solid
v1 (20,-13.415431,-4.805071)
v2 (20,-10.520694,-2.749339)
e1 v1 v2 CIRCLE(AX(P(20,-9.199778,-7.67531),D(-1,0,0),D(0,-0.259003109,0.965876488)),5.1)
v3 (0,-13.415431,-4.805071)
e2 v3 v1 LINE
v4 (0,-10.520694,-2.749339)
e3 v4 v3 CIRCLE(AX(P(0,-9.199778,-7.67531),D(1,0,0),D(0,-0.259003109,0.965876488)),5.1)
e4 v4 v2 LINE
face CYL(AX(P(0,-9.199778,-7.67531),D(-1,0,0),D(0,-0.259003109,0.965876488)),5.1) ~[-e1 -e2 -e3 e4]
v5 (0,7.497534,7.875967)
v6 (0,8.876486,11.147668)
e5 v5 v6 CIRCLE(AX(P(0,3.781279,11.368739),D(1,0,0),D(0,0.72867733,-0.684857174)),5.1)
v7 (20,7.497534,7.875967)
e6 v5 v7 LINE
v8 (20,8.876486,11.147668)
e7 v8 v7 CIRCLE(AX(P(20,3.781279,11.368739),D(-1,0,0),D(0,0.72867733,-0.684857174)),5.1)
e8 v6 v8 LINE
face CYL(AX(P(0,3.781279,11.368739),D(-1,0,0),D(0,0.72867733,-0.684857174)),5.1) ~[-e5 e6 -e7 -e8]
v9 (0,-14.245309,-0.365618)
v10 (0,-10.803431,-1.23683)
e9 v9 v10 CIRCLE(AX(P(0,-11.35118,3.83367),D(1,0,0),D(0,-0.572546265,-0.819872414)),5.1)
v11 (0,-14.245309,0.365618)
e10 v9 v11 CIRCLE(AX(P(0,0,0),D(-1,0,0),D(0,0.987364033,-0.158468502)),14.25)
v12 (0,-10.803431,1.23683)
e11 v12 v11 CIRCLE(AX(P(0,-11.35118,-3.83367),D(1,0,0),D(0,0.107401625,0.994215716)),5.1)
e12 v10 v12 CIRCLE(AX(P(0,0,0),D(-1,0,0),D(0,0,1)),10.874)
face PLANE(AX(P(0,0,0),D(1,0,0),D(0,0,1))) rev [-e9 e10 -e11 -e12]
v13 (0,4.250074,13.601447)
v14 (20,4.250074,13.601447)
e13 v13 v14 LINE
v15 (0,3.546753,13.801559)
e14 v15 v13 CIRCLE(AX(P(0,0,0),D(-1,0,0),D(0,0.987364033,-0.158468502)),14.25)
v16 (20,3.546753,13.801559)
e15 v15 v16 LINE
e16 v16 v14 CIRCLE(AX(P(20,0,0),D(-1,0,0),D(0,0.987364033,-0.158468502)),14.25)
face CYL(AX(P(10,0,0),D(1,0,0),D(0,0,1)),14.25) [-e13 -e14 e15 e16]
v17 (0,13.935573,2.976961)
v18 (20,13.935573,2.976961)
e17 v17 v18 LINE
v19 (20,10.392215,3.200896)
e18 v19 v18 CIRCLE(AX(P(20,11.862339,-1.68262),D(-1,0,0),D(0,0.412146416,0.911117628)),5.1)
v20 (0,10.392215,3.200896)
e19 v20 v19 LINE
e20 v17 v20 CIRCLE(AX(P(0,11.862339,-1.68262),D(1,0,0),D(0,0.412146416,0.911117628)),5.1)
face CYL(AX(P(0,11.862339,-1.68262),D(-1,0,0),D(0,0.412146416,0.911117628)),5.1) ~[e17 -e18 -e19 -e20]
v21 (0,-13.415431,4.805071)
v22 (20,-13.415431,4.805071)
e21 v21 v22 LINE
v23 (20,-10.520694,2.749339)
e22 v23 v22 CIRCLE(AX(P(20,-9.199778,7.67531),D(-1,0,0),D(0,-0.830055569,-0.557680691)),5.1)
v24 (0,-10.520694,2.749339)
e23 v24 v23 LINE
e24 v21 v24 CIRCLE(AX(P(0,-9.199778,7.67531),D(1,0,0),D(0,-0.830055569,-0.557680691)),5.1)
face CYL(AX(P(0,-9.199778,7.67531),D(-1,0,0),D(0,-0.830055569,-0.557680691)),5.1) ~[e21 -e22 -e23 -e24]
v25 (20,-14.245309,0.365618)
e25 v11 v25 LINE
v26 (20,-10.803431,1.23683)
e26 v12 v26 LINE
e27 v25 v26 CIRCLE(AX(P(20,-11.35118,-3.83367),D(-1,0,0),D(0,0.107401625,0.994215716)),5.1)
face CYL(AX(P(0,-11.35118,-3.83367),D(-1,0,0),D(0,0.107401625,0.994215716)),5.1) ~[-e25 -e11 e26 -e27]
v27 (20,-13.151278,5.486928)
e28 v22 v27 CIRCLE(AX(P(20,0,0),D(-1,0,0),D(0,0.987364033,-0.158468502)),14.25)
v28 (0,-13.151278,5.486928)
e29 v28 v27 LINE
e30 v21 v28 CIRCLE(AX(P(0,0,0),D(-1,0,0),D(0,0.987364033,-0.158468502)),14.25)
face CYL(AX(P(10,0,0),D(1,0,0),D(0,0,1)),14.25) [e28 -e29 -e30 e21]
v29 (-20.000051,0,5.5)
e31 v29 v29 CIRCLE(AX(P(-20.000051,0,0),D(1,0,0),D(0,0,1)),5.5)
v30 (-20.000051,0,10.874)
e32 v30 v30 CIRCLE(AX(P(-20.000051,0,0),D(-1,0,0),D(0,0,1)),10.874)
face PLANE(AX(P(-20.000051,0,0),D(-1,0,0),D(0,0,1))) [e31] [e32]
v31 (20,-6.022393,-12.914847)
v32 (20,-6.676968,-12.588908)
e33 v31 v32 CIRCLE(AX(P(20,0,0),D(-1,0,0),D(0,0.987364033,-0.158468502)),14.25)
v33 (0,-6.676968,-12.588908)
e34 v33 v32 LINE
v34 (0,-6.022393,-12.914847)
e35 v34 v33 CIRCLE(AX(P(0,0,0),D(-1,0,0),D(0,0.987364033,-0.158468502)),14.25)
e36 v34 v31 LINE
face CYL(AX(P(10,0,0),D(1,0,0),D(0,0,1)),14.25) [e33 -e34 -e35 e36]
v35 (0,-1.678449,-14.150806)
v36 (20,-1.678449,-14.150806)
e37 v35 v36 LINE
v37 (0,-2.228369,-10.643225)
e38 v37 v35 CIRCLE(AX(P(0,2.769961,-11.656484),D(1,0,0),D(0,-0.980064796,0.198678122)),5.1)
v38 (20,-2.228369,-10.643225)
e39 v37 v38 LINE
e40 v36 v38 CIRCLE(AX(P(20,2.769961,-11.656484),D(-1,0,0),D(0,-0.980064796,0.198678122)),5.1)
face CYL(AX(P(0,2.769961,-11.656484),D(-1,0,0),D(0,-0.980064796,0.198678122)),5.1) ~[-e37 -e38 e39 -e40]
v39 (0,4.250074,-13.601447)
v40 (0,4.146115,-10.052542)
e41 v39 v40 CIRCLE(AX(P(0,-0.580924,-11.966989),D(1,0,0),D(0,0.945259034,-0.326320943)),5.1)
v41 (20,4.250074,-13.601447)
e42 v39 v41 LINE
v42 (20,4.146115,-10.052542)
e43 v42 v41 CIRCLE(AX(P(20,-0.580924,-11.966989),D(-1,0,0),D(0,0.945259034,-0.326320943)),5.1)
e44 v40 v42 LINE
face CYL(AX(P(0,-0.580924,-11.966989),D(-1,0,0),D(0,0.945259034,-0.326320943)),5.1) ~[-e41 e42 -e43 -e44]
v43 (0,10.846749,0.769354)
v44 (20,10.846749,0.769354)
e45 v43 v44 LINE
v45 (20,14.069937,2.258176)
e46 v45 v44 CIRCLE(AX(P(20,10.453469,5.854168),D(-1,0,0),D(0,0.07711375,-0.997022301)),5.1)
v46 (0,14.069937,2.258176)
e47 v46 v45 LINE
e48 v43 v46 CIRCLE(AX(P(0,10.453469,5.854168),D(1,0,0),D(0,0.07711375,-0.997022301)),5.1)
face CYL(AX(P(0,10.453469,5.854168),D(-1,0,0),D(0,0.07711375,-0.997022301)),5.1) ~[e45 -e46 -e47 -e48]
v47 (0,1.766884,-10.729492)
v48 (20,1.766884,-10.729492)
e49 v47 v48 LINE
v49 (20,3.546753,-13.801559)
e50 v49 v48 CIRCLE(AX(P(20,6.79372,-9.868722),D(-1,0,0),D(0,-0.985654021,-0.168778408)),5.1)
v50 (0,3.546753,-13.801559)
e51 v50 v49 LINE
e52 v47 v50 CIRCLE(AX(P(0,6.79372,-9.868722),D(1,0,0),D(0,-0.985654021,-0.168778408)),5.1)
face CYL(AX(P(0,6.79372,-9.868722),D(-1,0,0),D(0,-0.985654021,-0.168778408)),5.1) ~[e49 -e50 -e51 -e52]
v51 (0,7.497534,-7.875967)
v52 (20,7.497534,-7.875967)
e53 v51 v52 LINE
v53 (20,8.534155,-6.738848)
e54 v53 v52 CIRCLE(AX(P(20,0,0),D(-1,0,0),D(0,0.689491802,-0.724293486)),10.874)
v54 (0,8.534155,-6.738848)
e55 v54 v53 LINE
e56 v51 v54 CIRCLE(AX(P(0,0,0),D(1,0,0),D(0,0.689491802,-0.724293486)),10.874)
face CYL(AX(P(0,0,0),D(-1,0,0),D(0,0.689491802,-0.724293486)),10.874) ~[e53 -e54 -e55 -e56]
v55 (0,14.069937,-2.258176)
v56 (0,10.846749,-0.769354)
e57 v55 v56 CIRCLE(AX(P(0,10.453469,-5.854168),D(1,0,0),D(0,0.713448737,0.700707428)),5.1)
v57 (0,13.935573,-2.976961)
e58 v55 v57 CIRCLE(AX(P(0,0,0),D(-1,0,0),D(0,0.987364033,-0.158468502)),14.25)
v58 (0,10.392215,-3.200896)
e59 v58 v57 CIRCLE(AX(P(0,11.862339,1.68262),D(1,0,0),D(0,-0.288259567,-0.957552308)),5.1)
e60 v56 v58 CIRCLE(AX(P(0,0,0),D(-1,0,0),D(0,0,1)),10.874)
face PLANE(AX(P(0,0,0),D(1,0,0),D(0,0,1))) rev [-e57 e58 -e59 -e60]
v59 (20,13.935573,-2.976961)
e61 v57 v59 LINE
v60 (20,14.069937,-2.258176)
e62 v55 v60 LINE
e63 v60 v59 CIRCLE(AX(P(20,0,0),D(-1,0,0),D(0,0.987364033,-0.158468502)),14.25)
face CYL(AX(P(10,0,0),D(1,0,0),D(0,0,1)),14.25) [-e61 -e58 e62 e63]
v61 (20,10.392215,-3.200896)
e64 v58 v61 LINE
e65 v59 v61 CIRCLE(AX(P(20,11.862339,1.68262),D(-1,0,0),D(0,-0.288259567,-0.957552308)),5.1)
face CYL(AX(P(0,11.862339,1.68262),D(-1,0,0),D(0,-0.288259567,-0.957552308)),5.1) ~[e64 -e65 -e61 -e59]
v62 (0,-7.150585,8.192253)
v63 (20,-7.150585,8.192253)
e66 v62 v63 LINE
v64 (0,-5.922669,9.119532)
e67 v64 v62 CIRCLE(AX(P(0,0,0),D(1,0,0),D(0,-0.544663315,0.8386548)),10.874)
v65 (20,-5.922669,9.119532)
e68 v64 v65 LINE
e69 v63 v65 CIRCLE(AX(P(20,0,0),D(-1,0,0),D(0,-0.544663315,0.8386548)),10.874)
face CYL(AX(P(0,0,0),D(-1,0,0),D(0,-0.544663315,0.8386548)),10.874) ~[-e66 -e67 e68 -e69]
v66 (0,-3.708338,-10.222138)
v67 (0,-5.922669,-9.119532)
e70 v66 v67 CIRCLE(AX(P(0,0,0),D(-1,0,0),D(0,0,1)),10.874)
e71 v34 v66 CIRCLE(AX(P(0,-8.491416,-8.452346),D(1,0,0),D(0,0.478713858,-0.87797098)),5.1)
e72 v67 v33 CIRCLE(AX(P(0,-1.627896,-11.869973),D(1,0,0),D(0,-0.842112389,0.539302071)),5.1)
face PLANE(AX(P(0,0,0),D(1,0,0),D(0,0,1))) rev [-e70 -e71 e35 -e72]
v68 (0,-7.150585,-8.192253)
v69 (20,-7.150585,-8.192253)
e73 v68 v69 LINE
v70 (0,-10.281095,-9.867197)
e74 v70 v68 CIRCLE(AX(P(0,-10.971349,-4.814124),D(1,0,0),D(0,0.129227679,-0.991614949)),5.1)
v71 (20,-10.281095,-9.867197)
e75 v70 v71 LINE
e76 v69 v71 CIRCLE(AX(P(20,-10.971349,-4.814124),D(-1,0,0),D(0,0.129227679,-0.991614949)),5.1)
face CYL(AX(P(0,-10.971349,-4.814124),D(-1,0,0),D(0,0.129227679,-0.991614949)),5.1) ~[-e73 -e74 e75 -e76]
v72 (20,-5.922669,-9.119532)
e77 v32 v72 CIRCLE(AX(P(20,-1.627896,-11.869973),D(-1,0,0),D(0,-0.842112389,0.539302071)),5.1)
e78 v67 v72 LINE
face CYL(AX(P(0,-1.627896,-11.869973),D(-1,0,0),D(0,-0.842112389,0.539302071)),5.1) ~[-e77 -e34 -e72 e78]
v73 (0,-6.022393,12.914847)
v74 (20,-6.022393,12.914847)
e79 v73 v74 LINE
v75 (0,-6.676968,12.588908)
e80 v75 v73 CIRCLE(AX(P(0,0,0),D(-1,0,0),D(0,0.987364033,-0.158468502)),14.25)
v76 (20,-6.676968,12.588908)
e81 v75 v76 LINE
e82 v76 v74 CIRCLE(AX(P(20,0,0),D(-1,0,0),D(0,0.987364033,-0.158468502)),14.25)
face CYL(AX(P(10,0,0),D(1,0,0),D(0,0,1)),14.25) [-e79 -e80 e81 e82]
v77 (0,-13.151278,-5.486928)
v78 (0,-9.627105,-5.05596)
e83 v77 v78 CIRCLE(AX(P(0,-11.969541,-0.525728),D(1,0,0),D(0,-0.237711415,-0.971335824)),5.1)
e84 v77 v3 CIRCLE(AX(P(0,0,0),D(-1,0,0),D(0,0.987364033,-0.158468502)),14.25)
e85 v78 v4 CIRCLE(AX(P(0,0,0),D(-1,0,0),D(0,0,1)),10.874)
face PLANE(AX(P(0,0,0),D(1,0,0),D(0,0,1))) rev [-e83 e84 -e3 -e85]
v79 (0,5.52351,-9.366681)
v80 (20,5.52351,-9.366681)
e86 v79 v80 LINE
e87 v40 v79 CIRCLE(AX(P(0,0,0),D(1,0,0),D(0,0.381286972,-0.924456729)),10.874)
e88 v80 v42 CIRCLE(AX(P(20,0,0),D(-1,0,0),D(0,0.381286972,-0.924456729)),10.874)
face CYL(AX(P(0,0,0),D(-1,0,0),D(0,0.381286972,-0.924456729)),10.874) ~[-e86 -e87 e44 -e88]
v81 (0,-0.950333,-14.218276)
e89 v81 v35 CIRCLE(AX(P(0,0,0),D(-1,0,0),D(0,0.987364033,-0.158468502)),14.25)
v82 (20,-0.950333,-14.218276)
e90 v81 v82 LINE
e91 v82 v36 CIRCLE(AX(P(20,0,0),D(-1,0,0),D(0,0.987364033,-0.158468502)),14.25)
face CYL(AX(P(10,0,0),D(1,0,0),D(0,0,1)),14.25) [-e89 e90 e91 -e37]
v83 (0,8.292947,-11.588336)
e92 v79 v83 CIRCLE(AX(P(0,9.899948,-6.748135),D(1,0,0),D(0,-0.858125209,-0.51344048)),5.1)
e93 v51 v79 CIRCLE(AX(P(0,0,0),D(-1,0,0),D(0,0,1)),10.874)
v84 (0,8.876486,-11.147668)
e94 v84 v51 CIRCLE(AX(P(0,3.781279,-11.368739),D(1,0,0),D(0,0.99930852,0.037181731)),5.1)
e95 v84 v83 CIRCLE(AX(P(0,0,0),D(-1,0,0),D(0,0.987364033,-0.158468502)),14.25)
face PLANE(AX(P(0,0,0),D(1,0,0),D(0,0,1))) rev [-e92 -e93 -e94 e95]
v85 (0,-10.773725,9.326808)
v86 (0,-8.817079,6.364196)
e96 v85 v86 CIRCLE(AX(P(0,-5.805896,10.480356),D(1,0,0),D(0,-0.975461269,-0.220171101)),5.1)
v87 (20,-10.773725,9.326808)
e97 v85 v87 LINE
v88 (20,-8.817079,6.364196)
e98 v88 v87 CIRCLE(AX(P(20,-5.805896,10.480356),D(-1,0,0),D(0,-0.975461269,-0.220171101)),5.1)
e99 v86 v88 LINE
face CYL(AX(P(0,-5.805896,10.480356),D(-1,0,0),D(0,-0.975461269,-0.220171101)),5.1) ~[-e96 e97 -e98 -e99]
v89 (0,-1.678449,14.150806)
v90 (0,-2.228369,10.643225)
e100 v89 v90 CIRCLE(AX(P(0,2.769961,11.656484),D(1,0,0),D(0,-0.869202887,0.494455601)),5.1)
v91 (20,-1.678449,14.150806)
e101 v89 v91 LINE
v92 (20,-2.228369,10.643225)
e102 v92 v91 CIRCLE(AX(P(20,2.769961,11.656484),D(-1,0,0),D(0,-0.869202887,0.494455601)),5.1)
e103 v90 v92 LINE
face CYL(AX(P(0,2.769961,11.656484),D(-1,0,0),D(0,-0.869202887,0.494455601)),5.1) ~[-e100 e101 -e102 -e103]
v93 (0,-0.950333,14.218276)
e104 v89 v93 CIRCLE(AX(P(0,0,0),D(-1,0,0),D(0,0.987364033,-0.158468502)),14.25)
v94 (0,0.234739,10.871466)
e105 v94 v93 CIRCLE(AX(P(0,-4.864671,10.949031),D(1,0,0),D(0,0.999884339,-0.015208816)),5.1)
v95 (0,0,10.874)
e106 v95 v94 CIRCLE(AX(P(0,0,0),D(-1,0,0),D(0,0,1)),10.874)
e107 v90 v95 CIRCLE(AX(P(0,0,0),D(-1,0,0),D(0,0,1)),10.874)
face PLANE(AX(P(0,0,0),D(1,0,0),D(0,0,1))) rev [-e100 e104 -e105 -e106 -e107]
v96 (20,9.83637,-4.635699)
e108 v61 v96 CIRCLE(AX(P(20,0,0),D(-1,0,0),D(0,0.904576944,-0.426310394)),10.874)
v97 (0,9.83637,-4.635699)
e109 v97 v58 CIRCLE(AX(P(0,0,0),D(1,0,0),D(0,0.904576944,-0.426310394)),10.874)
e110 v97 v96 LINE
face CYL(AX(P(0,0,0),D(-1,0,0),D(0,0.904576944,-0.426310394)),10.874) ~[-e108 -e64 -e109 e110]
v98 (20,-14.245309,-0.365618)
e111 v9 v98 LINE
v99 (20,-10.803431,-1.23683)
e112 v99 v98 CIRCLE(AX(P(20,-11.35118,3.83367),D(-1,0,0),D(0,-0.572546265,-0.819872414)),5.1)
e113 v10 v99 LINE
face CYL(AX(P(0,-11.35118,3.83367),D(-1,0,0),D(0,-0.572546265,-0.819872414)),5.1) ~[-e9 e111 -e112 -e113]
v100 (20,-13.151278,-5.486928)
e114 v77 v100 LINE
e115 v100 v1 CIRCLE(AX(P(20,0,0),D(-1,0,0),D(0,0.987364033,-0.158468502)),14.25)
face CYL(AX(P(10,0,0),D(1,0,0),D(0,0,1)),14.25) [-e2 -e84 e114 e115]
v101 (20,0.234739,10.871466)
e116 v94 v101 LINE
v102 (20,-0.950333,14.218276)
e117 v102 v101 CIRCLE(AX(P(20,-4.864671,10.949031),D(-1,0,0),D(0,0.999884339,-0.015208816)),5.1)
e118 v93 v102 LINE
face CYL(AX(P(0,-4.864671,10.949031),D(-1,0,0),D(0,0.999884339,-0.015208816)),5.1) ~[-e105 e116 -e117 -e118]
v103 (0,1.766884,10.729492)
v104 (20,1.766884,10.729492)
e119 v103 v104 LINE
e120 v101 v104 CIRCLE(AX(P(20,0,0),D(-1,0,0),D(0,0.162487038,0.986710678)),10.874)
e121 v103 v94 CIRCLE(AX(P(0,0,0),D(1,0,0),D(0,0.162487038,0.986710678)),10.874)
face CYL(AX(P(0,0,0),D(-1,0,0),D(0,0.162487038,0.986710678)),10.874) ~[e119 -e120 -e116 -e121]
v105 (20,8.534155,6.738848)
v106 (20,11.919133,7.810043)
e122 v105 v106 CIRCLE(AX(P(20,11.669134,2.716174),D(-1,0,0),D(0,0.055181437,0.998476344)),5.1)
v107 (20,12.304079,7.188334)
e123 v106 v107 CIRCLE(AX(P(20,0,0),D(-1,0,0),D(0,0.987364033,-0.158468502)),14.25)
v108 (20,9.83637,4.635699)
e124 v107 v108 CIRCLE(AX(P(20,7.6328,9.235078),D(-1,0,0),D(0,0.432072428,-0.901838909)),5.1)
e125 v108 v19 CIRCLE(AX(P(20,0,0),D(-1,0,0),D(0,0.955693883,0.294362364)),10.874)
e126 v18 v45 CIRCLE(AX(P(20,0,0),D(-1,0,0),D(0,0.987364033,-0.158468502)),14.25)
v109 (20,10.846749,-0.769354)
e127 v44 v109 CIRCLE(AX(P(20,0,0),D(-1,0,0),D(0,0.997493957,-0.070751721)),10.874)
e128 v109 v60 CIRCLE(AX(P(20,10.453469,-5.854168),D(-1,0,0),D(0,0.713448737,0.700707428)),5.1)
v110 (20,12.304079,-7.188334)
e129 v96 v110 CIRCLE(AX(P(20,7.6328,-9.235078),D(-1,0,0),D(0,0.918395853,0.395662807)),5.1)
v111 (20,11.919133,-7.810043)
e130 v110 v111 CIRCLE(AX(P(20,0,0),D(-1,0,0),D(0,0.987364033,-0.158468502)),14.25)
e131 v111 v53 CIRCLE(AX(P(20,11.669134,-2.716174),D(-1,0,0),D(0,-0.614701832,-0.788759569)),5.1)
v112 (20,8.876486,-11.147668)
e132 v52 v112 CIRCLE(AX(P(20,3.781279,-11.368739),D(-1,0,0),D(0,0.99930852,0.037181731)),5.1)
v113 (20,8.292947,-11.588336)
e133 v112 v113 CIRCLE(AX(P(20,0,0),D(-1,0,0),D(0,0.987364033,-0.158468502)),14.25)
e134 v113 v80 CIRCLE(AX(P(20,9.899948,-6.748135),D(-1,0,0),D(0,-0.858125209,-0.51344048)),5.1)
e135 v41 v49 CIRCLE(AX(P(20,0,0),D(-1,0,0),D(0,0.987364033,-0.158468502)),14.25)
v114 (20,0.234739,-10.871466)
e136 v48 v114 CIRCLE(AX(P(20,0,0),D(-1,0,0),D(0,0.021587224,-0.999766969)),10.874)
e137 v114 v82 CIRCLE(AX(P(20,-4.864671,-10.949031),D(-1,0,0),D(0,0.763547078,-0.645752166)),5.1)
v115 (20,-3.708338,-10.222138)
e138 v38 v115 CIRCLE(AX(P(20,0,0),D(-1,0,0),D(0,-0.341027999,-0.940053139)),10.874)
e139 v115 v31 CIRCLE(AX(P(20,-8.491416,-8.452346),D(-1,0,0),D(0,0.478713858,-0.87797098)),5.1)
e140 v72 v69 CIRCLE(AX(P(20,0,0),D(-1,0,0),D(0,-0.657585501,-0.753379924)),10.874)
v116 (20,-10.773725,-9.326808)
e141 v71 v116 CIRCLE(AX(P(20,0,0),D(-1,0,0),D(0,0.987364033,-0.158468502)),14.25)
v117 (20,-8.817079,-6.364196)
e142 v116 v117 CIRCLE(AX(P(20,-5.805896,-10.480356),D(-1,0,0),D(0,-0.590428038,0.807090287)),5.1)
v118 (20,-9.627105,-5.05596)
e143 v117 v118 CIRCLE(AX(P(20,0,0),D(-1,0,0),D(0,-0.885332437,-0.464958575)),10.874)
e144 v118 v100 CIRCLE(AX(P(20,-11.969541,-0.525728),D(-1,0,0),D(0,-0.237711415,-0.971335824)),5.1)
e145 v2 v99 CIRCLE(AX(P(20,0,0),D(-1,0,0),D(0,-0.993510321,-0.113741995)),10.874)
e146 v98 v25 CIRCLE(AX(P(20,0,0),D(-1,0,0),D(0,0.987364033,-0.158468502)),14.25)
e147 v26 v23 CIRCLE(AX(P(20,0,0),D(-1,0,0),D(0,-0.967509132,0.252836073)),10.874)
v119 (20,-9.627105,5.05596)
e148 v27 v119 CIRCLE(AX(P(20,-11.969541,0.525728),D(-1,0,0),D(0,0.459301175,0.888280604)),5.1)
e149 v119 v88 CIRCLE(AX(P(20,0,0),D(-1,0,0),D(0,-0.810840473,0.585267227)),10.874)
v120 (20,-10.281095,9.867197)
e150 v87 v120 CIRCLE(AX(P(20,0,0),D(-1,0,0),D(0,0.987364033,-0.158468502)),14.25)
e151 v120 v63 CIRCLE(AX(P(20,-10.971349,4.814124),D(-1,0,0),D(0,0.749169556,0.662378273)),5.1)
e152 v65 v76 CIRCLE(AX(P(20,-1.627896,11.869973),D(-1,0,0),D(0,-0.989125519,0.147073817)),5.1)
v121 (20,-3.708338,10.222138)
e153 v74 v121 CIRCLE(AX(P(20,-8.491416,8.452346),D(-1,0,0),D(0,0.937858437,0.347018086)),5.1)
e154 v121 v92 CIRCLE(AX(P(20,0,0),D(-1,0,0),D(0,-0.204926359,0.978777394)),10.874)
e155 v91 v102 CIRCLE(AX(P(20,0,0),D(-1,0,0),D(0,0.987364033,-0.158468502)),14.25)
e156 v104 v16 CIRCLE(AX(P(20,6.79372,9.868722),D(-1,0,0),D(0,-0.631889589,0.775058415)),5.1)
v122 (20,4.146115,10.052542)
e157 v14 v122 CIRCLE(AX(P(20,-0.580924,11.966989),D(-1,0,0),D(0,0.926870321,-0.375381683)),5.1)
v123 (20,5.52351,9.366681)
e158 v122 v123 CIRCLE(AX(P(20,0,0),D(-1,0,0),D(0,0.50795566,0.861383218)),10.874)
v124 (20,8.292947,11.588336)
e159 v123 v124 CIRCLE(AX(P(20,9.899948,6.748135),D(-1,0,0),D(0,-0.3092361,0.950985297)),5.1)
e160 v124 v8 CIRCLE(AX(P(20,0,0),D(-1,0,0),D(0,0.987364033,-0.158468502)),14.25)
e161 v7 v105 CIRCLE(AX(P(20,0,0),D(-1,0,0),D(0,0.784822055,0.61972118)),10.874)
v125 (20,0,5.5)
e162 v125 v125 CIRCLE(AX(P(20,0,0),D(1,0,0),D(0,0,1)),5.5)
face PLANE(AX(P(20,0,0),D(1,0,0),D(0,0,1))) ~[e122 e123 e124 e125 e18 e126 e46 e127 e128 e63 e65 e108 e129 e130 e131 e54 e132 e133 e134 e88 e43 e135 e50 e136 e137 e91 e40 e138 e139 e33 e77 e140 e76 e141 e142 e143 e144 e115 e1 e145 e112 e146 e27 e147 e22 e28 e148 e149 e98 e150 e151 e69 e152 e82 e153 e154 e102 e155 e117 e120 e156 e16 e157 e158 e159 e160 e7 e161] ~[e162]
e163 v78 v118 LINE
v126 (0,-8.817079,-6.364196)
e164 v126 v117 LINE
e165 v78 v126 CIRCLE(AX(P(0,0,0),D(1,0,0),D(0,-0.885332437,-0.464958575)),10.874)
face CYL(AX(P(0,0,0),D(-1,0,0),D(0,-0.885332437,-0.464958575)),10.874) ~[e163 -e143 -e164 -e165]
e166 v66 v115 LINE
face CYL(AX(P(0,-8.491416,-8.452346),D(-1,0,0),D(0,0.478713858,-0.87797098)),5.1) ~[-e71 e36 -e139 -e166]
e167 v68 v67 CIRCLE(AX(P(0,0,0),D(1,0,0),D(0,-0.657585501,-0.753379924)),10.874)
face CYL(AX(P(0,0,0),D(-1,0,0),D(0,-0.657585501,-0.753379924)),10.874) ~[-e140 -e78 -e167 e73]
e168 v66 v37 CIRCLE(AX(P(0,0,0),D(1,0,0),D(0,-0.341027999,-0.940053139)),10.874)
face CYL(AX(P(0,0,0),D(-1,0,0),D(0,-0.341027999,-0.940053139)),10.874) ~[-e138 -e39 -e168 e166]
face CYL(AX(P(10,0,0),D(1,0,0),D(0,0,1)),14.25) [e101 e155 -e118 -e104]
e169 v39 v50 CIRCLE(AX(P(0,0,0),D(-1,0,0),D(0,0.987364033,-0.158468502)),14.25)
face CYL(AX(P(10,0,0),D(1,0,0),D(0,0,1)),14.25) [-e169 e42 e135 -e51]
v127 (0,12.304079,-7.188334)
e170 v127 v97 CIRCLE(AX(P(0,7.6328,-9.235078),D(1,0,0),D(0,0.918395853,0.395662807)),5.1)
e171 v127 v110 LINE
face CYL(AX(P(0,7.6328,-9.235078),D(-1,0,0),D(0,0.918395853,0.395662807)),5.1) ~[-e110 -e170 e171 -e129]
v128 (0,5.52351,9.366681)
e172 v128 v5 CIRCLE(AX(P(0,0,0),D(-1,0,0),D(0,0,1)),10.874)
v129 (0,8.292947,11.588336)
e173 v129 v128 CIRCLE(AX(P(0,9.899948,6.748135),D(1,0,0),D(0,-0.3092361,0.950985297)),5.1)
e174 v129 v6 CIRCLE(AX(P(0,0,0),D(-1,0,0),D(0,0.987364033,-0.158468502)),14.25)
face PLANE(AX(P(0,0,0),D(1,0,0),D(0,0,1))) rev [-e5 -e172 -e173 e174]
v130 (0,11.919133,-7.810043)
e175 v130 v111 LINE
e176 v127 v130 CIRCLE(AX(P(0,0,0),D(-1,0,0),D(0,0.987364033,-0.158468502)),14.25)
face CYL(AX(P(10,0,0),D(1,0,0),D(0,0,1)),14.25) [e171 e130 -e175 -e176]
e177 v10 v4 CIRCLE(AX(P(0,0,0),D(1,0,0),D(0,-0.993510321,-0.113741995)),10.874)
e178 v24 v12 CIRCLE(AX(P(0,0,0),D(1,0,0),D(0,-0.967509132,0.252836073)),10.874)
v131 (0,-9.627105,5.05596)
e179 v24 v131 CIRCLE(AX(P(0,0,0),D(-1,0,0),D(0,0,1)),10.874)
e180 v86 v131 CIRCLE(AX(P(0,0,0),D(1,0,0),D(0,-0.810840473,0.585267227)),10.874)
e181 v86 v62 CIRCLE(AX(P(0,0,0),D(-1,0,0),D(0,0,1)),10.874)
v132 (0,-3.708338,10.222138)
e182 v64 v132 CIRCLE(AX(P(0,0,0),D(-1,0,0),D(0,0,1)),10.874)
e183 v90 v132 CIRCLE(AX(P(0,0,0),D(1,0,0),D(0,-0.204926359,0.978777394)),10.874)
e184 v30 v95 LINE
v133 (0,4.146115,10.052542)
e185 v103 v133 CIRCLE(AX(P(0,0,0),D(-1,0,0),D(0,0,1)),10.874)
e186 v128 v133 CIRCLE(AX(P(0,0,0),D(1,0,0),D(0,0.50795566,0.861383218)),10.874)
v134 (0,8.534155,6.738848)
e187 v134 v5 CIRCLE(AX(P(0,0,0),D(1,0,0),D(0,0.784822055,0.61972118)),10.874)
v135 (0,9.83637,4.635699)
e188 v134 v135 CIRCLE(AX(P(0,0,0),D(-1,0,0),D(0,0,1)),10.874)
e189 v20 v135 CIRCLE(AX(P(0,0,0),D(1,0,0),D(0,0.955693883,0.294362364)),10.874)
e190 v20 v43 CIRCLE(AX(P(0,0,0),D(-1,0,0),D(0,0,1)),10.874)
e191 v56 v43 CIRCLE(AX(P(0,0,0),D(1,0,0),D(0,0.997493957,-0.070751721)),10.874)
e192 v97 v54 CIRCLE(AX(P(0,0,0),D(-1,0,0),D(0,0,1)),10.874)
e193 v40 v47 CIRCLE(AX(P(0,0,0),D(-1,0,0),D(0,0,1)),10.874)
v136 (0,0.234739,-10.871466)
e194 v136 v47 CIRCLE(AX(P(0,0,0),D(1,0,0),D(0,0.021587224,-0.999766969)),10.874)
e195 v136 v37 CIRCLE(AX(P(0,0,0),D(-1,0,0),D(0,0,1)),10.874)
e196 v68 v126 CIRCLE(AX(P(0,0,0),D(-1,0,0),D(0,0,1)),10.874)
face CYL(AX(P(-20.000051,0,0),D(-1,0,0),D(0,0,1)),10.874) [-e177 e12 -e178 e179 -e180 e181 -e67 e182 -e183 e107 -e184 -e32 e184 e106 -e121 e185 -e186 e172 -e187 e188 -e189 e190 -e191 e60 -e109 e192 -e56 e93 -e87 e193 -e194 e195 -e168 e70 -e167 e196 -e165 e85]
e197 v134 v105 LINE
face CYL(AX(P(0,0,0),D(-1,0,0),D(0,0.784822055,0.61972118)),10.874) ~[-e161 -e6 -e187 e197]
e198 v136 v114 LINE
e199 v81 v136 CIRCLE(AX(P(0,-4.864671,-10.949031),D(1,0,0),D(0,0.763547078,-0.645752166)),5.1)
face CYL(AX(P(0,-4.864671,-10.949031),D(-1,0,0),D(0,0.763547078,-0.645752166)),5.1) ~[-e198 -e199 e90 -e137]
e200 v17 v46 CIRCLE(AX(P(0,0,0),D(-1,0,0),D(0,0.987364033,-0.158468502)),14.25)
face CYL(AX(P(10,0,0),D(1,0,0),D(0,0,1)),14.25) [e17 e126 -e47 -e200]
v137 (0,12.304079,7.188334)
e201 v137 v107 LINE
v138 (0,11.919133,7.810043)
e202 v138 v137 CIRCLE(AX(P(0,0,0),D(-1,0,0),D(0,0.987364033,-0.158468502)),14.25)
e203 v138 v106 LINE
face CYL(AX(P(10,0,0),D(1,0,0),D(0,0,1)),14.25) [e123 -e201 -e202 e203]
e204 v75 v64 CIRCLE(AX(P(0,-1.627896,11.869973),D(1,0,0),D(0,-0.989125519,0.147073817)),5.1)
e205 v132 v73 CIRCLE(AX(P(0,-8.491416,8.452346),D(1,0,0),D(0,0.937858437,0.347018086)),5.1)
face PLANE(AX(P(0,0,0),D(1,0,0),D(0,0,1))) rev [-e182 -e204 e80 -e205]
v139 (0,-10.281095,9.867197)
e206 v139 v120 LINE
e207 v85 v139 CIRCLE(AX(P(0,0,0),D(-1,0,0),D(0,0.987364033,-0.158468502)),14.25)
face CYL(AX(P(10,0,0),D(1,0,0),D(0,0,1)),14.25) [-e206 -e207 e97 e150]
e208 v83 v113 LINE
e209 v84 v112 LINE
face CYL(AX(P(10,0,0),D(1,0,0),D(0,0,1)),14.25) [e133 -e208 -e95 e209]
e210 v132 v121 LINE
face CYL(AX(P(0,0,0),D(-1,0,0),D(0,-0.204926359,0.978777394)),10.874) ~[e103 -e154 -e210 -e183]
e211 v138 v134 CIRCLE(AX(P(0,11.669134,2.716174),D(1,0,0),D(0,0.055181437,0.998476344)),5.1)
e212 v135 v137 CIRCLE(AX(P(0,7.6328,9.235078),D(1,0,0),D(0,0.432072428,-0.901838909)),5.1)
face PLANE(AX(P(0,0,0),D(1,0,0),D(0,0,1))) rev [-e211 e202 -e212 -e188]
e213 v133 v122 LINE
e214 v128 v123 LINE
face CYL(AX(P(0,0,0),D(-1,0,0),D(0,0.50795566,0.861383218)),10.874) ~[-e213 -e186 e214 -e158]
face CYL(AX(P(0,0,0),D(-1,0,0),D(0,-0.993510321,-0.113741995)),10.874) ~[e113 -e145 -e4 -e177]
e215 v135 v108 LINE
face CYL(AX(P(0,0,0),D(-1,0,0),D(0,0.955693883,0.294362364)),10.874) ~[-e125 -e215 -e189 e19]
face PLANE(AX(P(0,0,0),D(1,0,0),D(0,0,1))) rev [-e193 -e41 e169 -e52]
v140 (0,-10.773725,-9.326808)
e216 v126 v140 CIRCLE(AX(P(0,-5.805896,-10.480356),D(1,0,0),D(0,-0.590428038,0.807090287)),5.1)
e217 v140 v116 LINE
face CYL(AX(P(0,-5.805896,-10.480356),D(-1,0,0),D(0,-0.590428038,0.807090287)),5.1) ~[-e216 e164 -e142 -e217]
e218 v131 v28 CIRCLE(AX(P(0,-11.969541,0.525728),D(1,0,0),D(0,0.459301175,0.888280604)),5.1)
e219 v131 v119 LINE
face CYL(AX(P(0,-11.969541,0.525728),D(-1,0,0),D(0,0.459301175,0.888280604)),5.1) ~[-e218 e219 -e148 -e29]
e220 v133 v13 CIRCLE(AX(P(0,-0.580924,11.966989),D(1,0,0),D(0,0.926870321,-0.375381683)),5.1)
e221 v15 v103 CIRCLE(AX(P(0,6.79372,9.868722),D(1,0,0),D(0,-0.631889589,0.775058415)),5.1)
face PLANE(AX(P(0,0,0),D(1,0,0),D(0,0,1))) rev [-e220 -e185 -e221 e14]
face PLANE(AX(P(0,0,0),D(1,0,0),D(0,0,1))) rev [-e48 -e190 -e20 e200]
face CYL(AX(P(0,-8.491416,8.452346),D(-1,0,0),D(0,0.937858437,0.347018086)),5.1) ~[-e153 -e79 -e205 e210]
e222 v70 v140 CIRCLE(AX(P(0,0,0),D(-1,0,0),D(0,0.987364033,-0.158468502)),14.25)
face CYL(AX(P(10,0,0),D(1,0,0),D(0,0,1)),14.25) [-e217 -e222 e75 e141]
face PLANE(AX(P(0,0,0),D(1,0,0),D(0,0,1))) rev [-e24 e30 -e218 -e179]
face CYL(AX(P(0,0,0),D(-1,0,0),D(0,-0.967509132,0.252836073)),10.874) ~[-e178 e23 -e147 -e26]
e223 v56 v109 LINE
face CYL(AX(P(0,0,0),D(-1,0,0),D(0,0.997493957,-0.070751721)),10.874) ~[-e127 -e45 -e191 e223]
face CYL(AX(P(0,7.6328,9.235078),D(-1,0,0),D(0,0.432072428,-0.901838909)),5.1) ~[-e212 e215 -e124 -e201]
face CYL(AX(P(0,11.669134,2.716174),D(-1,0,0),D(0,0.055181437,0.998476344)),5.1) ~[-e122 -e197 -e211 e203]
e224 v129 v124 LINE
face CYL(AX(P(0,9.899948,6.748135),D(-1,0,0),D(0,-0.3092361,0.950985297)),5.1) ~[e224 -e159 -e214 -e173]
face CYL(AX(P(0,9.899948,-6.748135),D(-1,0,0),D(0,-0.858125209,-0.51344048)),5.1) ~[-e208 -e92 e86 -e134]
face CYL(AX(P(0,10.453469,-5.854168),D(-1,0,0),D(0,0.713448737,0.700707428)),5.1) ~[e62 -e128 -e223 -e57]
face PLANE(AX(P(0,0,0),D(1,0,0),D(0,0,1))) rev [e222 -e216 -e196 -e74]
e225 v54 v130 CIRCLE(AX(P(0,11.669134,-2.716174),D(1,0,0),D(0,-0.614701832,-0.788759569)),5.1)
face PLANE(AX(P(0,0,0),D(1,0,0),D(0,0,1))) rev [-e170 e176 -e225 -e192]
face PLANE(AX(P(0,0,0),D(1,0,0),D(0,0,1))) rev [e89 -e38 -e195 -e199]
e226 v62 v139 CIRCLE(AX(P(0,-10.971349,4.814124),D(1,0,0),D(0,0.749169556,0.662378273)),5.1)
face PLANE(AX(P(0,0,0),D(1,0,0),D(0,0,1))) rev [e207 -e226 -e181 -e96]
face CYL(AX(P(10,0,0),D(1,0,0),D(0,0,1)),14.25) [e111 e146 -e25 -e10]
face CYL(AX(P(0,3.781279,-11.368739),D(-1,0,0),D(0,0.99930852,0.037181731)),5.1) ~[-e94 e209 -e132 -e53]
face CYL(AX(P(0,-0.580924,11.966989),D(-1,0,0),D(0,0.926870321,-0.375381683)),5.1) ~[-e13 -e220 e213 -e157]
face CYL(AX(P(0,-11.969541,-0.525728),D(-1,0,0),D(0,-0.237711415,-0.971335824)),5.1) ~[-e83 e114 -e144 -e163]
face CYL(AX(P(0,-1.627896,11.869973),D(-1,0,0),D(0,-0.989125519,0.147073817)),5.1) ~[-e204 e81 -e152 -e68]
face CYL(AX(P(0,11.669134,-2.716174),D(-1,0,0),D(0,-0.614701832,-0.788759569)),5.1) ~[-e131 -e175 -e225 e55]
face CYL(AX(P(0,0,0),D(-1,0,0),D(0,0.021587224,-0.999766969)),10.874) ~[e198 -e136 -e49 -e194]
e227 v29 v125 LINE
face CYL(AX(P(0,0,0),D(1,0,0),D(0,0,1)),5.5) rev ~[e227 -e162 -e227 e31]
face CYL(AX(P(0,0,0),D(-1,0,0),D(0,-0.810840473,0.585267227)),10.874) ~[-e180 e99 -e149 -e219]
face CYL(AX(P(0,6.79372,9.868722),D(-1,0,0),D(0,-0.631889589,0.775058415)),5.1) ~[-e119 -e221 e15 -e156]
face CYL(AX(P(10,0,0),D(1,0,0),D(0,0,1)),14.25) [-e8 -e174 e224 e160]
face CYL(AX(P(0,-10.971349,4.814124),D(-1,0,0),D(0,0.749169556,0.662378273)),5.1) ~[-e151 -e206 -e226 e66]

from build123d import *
from build123d.topology import SkipClean

# Parameters (mm, degrees)
BASPROSKE_W      = 20
BASPROSKE_H      = 14.25
TOOTHCUT_DEPTH   = 29.392340516
TEETHCUTS_COUNT  = 17
TEETHCUTS_ANGLE  = 338.823529412
HUBNEARONE_START = 20.0000508
HUBNEAONESKE_R   = 10.874
HUBNEARONE_DEPTH = 20.0000508
BORSKE_R         = 5.5
BORE_DEPTH       = 40.0000508


with BuildPart() as part:
    # BasProSke → Base-Revolve (revolve)
    with BuildSketch(Plane(origin=(0, 0, 0), x_dir=(1, 0, 0), z_dir=(0, 1, 0)), mode=Mode.PRIVATE) as base_revolve_sk:
        with Locations((10, 7.125)):
            Rectangle(BASPROSKE_W, BASPROSKE_H)
    revolve(base_revolve_sk.sketch.rotate(Axis((-10, 0, 0), (1, 0, 0)), 180), axis=Axis((-10, 0, 0), (1, 0, 0)))

    # TooCutSke → ToothCut (cut, through all)
    with BuildSketch(Plane(origin=(0, 0, 0), x_dir=(0, 0, -1), z_dir=(1, 0, 0))):
        with BuildLine():
            ThreePointArc((0.769354207, 10.846749287), (0, 10.874), (-0.769354207, 10.846749287))
            ThreePointArc((-0.769354207, 10.846749287), (-1.230849554, 12.606357238), (-2.280560064, 14.092057726))
            ThreePointArc((-2.280560064, 14.092057726), (0, 14.2754), (2.280560064, 14.092057726))
            ThreePointArc((2.280560064, 14.092057726), (1.230849554, 12.606357238), (0.769354207, 10.846749287))
        make_face()
    toothcut = extrude(amount=TOOTHCUT_DEPTH, mode=Mode.SUBTRACT)

    # TeethCuts: ToothCut ×17 about axis
    teethcuts_axis = Axis((-10, 0, 0), (1, 0, 0))
    for i in range(1, TEETHCUTS_COUNT):
        add(toothcut.rotate(teethcuts_axis, i * TEETHCUTS_ANGLE / (TEETHCUTS_COUNT - 1)), mode=Mode.SUBTRACT)

    # HubNeaOneSke → HubNearOne (add)
    with SkipClean():  # the faces are left unmerged after this step: merging them gives an invalid solid
        with BuildSketch(Plane.ZY.offset(HUBNEARONE_START)):
            Circle(HUBNEAONESKE_R)
        extrude(amount=-HUBNEARONE_DEPTH)

    # BorSke → Bore (cut, symmetric)
    with SkipClean():  # the faces are left unmerged after this step: merging them gives an invalid solid
        with BuildSketch(Plane(origin=(0, 0, 0), x_dir=(0, 0, -1), z_dir=(1, 0, 0))):
            with Locations(Location((0, 0, 0), (0, 0, 180))):
                Circle(BORSKE_R)
        extrude(amount=BORE_DEPTH, both=True, mode=Mode.SUBTRACT)


solid = part.part
